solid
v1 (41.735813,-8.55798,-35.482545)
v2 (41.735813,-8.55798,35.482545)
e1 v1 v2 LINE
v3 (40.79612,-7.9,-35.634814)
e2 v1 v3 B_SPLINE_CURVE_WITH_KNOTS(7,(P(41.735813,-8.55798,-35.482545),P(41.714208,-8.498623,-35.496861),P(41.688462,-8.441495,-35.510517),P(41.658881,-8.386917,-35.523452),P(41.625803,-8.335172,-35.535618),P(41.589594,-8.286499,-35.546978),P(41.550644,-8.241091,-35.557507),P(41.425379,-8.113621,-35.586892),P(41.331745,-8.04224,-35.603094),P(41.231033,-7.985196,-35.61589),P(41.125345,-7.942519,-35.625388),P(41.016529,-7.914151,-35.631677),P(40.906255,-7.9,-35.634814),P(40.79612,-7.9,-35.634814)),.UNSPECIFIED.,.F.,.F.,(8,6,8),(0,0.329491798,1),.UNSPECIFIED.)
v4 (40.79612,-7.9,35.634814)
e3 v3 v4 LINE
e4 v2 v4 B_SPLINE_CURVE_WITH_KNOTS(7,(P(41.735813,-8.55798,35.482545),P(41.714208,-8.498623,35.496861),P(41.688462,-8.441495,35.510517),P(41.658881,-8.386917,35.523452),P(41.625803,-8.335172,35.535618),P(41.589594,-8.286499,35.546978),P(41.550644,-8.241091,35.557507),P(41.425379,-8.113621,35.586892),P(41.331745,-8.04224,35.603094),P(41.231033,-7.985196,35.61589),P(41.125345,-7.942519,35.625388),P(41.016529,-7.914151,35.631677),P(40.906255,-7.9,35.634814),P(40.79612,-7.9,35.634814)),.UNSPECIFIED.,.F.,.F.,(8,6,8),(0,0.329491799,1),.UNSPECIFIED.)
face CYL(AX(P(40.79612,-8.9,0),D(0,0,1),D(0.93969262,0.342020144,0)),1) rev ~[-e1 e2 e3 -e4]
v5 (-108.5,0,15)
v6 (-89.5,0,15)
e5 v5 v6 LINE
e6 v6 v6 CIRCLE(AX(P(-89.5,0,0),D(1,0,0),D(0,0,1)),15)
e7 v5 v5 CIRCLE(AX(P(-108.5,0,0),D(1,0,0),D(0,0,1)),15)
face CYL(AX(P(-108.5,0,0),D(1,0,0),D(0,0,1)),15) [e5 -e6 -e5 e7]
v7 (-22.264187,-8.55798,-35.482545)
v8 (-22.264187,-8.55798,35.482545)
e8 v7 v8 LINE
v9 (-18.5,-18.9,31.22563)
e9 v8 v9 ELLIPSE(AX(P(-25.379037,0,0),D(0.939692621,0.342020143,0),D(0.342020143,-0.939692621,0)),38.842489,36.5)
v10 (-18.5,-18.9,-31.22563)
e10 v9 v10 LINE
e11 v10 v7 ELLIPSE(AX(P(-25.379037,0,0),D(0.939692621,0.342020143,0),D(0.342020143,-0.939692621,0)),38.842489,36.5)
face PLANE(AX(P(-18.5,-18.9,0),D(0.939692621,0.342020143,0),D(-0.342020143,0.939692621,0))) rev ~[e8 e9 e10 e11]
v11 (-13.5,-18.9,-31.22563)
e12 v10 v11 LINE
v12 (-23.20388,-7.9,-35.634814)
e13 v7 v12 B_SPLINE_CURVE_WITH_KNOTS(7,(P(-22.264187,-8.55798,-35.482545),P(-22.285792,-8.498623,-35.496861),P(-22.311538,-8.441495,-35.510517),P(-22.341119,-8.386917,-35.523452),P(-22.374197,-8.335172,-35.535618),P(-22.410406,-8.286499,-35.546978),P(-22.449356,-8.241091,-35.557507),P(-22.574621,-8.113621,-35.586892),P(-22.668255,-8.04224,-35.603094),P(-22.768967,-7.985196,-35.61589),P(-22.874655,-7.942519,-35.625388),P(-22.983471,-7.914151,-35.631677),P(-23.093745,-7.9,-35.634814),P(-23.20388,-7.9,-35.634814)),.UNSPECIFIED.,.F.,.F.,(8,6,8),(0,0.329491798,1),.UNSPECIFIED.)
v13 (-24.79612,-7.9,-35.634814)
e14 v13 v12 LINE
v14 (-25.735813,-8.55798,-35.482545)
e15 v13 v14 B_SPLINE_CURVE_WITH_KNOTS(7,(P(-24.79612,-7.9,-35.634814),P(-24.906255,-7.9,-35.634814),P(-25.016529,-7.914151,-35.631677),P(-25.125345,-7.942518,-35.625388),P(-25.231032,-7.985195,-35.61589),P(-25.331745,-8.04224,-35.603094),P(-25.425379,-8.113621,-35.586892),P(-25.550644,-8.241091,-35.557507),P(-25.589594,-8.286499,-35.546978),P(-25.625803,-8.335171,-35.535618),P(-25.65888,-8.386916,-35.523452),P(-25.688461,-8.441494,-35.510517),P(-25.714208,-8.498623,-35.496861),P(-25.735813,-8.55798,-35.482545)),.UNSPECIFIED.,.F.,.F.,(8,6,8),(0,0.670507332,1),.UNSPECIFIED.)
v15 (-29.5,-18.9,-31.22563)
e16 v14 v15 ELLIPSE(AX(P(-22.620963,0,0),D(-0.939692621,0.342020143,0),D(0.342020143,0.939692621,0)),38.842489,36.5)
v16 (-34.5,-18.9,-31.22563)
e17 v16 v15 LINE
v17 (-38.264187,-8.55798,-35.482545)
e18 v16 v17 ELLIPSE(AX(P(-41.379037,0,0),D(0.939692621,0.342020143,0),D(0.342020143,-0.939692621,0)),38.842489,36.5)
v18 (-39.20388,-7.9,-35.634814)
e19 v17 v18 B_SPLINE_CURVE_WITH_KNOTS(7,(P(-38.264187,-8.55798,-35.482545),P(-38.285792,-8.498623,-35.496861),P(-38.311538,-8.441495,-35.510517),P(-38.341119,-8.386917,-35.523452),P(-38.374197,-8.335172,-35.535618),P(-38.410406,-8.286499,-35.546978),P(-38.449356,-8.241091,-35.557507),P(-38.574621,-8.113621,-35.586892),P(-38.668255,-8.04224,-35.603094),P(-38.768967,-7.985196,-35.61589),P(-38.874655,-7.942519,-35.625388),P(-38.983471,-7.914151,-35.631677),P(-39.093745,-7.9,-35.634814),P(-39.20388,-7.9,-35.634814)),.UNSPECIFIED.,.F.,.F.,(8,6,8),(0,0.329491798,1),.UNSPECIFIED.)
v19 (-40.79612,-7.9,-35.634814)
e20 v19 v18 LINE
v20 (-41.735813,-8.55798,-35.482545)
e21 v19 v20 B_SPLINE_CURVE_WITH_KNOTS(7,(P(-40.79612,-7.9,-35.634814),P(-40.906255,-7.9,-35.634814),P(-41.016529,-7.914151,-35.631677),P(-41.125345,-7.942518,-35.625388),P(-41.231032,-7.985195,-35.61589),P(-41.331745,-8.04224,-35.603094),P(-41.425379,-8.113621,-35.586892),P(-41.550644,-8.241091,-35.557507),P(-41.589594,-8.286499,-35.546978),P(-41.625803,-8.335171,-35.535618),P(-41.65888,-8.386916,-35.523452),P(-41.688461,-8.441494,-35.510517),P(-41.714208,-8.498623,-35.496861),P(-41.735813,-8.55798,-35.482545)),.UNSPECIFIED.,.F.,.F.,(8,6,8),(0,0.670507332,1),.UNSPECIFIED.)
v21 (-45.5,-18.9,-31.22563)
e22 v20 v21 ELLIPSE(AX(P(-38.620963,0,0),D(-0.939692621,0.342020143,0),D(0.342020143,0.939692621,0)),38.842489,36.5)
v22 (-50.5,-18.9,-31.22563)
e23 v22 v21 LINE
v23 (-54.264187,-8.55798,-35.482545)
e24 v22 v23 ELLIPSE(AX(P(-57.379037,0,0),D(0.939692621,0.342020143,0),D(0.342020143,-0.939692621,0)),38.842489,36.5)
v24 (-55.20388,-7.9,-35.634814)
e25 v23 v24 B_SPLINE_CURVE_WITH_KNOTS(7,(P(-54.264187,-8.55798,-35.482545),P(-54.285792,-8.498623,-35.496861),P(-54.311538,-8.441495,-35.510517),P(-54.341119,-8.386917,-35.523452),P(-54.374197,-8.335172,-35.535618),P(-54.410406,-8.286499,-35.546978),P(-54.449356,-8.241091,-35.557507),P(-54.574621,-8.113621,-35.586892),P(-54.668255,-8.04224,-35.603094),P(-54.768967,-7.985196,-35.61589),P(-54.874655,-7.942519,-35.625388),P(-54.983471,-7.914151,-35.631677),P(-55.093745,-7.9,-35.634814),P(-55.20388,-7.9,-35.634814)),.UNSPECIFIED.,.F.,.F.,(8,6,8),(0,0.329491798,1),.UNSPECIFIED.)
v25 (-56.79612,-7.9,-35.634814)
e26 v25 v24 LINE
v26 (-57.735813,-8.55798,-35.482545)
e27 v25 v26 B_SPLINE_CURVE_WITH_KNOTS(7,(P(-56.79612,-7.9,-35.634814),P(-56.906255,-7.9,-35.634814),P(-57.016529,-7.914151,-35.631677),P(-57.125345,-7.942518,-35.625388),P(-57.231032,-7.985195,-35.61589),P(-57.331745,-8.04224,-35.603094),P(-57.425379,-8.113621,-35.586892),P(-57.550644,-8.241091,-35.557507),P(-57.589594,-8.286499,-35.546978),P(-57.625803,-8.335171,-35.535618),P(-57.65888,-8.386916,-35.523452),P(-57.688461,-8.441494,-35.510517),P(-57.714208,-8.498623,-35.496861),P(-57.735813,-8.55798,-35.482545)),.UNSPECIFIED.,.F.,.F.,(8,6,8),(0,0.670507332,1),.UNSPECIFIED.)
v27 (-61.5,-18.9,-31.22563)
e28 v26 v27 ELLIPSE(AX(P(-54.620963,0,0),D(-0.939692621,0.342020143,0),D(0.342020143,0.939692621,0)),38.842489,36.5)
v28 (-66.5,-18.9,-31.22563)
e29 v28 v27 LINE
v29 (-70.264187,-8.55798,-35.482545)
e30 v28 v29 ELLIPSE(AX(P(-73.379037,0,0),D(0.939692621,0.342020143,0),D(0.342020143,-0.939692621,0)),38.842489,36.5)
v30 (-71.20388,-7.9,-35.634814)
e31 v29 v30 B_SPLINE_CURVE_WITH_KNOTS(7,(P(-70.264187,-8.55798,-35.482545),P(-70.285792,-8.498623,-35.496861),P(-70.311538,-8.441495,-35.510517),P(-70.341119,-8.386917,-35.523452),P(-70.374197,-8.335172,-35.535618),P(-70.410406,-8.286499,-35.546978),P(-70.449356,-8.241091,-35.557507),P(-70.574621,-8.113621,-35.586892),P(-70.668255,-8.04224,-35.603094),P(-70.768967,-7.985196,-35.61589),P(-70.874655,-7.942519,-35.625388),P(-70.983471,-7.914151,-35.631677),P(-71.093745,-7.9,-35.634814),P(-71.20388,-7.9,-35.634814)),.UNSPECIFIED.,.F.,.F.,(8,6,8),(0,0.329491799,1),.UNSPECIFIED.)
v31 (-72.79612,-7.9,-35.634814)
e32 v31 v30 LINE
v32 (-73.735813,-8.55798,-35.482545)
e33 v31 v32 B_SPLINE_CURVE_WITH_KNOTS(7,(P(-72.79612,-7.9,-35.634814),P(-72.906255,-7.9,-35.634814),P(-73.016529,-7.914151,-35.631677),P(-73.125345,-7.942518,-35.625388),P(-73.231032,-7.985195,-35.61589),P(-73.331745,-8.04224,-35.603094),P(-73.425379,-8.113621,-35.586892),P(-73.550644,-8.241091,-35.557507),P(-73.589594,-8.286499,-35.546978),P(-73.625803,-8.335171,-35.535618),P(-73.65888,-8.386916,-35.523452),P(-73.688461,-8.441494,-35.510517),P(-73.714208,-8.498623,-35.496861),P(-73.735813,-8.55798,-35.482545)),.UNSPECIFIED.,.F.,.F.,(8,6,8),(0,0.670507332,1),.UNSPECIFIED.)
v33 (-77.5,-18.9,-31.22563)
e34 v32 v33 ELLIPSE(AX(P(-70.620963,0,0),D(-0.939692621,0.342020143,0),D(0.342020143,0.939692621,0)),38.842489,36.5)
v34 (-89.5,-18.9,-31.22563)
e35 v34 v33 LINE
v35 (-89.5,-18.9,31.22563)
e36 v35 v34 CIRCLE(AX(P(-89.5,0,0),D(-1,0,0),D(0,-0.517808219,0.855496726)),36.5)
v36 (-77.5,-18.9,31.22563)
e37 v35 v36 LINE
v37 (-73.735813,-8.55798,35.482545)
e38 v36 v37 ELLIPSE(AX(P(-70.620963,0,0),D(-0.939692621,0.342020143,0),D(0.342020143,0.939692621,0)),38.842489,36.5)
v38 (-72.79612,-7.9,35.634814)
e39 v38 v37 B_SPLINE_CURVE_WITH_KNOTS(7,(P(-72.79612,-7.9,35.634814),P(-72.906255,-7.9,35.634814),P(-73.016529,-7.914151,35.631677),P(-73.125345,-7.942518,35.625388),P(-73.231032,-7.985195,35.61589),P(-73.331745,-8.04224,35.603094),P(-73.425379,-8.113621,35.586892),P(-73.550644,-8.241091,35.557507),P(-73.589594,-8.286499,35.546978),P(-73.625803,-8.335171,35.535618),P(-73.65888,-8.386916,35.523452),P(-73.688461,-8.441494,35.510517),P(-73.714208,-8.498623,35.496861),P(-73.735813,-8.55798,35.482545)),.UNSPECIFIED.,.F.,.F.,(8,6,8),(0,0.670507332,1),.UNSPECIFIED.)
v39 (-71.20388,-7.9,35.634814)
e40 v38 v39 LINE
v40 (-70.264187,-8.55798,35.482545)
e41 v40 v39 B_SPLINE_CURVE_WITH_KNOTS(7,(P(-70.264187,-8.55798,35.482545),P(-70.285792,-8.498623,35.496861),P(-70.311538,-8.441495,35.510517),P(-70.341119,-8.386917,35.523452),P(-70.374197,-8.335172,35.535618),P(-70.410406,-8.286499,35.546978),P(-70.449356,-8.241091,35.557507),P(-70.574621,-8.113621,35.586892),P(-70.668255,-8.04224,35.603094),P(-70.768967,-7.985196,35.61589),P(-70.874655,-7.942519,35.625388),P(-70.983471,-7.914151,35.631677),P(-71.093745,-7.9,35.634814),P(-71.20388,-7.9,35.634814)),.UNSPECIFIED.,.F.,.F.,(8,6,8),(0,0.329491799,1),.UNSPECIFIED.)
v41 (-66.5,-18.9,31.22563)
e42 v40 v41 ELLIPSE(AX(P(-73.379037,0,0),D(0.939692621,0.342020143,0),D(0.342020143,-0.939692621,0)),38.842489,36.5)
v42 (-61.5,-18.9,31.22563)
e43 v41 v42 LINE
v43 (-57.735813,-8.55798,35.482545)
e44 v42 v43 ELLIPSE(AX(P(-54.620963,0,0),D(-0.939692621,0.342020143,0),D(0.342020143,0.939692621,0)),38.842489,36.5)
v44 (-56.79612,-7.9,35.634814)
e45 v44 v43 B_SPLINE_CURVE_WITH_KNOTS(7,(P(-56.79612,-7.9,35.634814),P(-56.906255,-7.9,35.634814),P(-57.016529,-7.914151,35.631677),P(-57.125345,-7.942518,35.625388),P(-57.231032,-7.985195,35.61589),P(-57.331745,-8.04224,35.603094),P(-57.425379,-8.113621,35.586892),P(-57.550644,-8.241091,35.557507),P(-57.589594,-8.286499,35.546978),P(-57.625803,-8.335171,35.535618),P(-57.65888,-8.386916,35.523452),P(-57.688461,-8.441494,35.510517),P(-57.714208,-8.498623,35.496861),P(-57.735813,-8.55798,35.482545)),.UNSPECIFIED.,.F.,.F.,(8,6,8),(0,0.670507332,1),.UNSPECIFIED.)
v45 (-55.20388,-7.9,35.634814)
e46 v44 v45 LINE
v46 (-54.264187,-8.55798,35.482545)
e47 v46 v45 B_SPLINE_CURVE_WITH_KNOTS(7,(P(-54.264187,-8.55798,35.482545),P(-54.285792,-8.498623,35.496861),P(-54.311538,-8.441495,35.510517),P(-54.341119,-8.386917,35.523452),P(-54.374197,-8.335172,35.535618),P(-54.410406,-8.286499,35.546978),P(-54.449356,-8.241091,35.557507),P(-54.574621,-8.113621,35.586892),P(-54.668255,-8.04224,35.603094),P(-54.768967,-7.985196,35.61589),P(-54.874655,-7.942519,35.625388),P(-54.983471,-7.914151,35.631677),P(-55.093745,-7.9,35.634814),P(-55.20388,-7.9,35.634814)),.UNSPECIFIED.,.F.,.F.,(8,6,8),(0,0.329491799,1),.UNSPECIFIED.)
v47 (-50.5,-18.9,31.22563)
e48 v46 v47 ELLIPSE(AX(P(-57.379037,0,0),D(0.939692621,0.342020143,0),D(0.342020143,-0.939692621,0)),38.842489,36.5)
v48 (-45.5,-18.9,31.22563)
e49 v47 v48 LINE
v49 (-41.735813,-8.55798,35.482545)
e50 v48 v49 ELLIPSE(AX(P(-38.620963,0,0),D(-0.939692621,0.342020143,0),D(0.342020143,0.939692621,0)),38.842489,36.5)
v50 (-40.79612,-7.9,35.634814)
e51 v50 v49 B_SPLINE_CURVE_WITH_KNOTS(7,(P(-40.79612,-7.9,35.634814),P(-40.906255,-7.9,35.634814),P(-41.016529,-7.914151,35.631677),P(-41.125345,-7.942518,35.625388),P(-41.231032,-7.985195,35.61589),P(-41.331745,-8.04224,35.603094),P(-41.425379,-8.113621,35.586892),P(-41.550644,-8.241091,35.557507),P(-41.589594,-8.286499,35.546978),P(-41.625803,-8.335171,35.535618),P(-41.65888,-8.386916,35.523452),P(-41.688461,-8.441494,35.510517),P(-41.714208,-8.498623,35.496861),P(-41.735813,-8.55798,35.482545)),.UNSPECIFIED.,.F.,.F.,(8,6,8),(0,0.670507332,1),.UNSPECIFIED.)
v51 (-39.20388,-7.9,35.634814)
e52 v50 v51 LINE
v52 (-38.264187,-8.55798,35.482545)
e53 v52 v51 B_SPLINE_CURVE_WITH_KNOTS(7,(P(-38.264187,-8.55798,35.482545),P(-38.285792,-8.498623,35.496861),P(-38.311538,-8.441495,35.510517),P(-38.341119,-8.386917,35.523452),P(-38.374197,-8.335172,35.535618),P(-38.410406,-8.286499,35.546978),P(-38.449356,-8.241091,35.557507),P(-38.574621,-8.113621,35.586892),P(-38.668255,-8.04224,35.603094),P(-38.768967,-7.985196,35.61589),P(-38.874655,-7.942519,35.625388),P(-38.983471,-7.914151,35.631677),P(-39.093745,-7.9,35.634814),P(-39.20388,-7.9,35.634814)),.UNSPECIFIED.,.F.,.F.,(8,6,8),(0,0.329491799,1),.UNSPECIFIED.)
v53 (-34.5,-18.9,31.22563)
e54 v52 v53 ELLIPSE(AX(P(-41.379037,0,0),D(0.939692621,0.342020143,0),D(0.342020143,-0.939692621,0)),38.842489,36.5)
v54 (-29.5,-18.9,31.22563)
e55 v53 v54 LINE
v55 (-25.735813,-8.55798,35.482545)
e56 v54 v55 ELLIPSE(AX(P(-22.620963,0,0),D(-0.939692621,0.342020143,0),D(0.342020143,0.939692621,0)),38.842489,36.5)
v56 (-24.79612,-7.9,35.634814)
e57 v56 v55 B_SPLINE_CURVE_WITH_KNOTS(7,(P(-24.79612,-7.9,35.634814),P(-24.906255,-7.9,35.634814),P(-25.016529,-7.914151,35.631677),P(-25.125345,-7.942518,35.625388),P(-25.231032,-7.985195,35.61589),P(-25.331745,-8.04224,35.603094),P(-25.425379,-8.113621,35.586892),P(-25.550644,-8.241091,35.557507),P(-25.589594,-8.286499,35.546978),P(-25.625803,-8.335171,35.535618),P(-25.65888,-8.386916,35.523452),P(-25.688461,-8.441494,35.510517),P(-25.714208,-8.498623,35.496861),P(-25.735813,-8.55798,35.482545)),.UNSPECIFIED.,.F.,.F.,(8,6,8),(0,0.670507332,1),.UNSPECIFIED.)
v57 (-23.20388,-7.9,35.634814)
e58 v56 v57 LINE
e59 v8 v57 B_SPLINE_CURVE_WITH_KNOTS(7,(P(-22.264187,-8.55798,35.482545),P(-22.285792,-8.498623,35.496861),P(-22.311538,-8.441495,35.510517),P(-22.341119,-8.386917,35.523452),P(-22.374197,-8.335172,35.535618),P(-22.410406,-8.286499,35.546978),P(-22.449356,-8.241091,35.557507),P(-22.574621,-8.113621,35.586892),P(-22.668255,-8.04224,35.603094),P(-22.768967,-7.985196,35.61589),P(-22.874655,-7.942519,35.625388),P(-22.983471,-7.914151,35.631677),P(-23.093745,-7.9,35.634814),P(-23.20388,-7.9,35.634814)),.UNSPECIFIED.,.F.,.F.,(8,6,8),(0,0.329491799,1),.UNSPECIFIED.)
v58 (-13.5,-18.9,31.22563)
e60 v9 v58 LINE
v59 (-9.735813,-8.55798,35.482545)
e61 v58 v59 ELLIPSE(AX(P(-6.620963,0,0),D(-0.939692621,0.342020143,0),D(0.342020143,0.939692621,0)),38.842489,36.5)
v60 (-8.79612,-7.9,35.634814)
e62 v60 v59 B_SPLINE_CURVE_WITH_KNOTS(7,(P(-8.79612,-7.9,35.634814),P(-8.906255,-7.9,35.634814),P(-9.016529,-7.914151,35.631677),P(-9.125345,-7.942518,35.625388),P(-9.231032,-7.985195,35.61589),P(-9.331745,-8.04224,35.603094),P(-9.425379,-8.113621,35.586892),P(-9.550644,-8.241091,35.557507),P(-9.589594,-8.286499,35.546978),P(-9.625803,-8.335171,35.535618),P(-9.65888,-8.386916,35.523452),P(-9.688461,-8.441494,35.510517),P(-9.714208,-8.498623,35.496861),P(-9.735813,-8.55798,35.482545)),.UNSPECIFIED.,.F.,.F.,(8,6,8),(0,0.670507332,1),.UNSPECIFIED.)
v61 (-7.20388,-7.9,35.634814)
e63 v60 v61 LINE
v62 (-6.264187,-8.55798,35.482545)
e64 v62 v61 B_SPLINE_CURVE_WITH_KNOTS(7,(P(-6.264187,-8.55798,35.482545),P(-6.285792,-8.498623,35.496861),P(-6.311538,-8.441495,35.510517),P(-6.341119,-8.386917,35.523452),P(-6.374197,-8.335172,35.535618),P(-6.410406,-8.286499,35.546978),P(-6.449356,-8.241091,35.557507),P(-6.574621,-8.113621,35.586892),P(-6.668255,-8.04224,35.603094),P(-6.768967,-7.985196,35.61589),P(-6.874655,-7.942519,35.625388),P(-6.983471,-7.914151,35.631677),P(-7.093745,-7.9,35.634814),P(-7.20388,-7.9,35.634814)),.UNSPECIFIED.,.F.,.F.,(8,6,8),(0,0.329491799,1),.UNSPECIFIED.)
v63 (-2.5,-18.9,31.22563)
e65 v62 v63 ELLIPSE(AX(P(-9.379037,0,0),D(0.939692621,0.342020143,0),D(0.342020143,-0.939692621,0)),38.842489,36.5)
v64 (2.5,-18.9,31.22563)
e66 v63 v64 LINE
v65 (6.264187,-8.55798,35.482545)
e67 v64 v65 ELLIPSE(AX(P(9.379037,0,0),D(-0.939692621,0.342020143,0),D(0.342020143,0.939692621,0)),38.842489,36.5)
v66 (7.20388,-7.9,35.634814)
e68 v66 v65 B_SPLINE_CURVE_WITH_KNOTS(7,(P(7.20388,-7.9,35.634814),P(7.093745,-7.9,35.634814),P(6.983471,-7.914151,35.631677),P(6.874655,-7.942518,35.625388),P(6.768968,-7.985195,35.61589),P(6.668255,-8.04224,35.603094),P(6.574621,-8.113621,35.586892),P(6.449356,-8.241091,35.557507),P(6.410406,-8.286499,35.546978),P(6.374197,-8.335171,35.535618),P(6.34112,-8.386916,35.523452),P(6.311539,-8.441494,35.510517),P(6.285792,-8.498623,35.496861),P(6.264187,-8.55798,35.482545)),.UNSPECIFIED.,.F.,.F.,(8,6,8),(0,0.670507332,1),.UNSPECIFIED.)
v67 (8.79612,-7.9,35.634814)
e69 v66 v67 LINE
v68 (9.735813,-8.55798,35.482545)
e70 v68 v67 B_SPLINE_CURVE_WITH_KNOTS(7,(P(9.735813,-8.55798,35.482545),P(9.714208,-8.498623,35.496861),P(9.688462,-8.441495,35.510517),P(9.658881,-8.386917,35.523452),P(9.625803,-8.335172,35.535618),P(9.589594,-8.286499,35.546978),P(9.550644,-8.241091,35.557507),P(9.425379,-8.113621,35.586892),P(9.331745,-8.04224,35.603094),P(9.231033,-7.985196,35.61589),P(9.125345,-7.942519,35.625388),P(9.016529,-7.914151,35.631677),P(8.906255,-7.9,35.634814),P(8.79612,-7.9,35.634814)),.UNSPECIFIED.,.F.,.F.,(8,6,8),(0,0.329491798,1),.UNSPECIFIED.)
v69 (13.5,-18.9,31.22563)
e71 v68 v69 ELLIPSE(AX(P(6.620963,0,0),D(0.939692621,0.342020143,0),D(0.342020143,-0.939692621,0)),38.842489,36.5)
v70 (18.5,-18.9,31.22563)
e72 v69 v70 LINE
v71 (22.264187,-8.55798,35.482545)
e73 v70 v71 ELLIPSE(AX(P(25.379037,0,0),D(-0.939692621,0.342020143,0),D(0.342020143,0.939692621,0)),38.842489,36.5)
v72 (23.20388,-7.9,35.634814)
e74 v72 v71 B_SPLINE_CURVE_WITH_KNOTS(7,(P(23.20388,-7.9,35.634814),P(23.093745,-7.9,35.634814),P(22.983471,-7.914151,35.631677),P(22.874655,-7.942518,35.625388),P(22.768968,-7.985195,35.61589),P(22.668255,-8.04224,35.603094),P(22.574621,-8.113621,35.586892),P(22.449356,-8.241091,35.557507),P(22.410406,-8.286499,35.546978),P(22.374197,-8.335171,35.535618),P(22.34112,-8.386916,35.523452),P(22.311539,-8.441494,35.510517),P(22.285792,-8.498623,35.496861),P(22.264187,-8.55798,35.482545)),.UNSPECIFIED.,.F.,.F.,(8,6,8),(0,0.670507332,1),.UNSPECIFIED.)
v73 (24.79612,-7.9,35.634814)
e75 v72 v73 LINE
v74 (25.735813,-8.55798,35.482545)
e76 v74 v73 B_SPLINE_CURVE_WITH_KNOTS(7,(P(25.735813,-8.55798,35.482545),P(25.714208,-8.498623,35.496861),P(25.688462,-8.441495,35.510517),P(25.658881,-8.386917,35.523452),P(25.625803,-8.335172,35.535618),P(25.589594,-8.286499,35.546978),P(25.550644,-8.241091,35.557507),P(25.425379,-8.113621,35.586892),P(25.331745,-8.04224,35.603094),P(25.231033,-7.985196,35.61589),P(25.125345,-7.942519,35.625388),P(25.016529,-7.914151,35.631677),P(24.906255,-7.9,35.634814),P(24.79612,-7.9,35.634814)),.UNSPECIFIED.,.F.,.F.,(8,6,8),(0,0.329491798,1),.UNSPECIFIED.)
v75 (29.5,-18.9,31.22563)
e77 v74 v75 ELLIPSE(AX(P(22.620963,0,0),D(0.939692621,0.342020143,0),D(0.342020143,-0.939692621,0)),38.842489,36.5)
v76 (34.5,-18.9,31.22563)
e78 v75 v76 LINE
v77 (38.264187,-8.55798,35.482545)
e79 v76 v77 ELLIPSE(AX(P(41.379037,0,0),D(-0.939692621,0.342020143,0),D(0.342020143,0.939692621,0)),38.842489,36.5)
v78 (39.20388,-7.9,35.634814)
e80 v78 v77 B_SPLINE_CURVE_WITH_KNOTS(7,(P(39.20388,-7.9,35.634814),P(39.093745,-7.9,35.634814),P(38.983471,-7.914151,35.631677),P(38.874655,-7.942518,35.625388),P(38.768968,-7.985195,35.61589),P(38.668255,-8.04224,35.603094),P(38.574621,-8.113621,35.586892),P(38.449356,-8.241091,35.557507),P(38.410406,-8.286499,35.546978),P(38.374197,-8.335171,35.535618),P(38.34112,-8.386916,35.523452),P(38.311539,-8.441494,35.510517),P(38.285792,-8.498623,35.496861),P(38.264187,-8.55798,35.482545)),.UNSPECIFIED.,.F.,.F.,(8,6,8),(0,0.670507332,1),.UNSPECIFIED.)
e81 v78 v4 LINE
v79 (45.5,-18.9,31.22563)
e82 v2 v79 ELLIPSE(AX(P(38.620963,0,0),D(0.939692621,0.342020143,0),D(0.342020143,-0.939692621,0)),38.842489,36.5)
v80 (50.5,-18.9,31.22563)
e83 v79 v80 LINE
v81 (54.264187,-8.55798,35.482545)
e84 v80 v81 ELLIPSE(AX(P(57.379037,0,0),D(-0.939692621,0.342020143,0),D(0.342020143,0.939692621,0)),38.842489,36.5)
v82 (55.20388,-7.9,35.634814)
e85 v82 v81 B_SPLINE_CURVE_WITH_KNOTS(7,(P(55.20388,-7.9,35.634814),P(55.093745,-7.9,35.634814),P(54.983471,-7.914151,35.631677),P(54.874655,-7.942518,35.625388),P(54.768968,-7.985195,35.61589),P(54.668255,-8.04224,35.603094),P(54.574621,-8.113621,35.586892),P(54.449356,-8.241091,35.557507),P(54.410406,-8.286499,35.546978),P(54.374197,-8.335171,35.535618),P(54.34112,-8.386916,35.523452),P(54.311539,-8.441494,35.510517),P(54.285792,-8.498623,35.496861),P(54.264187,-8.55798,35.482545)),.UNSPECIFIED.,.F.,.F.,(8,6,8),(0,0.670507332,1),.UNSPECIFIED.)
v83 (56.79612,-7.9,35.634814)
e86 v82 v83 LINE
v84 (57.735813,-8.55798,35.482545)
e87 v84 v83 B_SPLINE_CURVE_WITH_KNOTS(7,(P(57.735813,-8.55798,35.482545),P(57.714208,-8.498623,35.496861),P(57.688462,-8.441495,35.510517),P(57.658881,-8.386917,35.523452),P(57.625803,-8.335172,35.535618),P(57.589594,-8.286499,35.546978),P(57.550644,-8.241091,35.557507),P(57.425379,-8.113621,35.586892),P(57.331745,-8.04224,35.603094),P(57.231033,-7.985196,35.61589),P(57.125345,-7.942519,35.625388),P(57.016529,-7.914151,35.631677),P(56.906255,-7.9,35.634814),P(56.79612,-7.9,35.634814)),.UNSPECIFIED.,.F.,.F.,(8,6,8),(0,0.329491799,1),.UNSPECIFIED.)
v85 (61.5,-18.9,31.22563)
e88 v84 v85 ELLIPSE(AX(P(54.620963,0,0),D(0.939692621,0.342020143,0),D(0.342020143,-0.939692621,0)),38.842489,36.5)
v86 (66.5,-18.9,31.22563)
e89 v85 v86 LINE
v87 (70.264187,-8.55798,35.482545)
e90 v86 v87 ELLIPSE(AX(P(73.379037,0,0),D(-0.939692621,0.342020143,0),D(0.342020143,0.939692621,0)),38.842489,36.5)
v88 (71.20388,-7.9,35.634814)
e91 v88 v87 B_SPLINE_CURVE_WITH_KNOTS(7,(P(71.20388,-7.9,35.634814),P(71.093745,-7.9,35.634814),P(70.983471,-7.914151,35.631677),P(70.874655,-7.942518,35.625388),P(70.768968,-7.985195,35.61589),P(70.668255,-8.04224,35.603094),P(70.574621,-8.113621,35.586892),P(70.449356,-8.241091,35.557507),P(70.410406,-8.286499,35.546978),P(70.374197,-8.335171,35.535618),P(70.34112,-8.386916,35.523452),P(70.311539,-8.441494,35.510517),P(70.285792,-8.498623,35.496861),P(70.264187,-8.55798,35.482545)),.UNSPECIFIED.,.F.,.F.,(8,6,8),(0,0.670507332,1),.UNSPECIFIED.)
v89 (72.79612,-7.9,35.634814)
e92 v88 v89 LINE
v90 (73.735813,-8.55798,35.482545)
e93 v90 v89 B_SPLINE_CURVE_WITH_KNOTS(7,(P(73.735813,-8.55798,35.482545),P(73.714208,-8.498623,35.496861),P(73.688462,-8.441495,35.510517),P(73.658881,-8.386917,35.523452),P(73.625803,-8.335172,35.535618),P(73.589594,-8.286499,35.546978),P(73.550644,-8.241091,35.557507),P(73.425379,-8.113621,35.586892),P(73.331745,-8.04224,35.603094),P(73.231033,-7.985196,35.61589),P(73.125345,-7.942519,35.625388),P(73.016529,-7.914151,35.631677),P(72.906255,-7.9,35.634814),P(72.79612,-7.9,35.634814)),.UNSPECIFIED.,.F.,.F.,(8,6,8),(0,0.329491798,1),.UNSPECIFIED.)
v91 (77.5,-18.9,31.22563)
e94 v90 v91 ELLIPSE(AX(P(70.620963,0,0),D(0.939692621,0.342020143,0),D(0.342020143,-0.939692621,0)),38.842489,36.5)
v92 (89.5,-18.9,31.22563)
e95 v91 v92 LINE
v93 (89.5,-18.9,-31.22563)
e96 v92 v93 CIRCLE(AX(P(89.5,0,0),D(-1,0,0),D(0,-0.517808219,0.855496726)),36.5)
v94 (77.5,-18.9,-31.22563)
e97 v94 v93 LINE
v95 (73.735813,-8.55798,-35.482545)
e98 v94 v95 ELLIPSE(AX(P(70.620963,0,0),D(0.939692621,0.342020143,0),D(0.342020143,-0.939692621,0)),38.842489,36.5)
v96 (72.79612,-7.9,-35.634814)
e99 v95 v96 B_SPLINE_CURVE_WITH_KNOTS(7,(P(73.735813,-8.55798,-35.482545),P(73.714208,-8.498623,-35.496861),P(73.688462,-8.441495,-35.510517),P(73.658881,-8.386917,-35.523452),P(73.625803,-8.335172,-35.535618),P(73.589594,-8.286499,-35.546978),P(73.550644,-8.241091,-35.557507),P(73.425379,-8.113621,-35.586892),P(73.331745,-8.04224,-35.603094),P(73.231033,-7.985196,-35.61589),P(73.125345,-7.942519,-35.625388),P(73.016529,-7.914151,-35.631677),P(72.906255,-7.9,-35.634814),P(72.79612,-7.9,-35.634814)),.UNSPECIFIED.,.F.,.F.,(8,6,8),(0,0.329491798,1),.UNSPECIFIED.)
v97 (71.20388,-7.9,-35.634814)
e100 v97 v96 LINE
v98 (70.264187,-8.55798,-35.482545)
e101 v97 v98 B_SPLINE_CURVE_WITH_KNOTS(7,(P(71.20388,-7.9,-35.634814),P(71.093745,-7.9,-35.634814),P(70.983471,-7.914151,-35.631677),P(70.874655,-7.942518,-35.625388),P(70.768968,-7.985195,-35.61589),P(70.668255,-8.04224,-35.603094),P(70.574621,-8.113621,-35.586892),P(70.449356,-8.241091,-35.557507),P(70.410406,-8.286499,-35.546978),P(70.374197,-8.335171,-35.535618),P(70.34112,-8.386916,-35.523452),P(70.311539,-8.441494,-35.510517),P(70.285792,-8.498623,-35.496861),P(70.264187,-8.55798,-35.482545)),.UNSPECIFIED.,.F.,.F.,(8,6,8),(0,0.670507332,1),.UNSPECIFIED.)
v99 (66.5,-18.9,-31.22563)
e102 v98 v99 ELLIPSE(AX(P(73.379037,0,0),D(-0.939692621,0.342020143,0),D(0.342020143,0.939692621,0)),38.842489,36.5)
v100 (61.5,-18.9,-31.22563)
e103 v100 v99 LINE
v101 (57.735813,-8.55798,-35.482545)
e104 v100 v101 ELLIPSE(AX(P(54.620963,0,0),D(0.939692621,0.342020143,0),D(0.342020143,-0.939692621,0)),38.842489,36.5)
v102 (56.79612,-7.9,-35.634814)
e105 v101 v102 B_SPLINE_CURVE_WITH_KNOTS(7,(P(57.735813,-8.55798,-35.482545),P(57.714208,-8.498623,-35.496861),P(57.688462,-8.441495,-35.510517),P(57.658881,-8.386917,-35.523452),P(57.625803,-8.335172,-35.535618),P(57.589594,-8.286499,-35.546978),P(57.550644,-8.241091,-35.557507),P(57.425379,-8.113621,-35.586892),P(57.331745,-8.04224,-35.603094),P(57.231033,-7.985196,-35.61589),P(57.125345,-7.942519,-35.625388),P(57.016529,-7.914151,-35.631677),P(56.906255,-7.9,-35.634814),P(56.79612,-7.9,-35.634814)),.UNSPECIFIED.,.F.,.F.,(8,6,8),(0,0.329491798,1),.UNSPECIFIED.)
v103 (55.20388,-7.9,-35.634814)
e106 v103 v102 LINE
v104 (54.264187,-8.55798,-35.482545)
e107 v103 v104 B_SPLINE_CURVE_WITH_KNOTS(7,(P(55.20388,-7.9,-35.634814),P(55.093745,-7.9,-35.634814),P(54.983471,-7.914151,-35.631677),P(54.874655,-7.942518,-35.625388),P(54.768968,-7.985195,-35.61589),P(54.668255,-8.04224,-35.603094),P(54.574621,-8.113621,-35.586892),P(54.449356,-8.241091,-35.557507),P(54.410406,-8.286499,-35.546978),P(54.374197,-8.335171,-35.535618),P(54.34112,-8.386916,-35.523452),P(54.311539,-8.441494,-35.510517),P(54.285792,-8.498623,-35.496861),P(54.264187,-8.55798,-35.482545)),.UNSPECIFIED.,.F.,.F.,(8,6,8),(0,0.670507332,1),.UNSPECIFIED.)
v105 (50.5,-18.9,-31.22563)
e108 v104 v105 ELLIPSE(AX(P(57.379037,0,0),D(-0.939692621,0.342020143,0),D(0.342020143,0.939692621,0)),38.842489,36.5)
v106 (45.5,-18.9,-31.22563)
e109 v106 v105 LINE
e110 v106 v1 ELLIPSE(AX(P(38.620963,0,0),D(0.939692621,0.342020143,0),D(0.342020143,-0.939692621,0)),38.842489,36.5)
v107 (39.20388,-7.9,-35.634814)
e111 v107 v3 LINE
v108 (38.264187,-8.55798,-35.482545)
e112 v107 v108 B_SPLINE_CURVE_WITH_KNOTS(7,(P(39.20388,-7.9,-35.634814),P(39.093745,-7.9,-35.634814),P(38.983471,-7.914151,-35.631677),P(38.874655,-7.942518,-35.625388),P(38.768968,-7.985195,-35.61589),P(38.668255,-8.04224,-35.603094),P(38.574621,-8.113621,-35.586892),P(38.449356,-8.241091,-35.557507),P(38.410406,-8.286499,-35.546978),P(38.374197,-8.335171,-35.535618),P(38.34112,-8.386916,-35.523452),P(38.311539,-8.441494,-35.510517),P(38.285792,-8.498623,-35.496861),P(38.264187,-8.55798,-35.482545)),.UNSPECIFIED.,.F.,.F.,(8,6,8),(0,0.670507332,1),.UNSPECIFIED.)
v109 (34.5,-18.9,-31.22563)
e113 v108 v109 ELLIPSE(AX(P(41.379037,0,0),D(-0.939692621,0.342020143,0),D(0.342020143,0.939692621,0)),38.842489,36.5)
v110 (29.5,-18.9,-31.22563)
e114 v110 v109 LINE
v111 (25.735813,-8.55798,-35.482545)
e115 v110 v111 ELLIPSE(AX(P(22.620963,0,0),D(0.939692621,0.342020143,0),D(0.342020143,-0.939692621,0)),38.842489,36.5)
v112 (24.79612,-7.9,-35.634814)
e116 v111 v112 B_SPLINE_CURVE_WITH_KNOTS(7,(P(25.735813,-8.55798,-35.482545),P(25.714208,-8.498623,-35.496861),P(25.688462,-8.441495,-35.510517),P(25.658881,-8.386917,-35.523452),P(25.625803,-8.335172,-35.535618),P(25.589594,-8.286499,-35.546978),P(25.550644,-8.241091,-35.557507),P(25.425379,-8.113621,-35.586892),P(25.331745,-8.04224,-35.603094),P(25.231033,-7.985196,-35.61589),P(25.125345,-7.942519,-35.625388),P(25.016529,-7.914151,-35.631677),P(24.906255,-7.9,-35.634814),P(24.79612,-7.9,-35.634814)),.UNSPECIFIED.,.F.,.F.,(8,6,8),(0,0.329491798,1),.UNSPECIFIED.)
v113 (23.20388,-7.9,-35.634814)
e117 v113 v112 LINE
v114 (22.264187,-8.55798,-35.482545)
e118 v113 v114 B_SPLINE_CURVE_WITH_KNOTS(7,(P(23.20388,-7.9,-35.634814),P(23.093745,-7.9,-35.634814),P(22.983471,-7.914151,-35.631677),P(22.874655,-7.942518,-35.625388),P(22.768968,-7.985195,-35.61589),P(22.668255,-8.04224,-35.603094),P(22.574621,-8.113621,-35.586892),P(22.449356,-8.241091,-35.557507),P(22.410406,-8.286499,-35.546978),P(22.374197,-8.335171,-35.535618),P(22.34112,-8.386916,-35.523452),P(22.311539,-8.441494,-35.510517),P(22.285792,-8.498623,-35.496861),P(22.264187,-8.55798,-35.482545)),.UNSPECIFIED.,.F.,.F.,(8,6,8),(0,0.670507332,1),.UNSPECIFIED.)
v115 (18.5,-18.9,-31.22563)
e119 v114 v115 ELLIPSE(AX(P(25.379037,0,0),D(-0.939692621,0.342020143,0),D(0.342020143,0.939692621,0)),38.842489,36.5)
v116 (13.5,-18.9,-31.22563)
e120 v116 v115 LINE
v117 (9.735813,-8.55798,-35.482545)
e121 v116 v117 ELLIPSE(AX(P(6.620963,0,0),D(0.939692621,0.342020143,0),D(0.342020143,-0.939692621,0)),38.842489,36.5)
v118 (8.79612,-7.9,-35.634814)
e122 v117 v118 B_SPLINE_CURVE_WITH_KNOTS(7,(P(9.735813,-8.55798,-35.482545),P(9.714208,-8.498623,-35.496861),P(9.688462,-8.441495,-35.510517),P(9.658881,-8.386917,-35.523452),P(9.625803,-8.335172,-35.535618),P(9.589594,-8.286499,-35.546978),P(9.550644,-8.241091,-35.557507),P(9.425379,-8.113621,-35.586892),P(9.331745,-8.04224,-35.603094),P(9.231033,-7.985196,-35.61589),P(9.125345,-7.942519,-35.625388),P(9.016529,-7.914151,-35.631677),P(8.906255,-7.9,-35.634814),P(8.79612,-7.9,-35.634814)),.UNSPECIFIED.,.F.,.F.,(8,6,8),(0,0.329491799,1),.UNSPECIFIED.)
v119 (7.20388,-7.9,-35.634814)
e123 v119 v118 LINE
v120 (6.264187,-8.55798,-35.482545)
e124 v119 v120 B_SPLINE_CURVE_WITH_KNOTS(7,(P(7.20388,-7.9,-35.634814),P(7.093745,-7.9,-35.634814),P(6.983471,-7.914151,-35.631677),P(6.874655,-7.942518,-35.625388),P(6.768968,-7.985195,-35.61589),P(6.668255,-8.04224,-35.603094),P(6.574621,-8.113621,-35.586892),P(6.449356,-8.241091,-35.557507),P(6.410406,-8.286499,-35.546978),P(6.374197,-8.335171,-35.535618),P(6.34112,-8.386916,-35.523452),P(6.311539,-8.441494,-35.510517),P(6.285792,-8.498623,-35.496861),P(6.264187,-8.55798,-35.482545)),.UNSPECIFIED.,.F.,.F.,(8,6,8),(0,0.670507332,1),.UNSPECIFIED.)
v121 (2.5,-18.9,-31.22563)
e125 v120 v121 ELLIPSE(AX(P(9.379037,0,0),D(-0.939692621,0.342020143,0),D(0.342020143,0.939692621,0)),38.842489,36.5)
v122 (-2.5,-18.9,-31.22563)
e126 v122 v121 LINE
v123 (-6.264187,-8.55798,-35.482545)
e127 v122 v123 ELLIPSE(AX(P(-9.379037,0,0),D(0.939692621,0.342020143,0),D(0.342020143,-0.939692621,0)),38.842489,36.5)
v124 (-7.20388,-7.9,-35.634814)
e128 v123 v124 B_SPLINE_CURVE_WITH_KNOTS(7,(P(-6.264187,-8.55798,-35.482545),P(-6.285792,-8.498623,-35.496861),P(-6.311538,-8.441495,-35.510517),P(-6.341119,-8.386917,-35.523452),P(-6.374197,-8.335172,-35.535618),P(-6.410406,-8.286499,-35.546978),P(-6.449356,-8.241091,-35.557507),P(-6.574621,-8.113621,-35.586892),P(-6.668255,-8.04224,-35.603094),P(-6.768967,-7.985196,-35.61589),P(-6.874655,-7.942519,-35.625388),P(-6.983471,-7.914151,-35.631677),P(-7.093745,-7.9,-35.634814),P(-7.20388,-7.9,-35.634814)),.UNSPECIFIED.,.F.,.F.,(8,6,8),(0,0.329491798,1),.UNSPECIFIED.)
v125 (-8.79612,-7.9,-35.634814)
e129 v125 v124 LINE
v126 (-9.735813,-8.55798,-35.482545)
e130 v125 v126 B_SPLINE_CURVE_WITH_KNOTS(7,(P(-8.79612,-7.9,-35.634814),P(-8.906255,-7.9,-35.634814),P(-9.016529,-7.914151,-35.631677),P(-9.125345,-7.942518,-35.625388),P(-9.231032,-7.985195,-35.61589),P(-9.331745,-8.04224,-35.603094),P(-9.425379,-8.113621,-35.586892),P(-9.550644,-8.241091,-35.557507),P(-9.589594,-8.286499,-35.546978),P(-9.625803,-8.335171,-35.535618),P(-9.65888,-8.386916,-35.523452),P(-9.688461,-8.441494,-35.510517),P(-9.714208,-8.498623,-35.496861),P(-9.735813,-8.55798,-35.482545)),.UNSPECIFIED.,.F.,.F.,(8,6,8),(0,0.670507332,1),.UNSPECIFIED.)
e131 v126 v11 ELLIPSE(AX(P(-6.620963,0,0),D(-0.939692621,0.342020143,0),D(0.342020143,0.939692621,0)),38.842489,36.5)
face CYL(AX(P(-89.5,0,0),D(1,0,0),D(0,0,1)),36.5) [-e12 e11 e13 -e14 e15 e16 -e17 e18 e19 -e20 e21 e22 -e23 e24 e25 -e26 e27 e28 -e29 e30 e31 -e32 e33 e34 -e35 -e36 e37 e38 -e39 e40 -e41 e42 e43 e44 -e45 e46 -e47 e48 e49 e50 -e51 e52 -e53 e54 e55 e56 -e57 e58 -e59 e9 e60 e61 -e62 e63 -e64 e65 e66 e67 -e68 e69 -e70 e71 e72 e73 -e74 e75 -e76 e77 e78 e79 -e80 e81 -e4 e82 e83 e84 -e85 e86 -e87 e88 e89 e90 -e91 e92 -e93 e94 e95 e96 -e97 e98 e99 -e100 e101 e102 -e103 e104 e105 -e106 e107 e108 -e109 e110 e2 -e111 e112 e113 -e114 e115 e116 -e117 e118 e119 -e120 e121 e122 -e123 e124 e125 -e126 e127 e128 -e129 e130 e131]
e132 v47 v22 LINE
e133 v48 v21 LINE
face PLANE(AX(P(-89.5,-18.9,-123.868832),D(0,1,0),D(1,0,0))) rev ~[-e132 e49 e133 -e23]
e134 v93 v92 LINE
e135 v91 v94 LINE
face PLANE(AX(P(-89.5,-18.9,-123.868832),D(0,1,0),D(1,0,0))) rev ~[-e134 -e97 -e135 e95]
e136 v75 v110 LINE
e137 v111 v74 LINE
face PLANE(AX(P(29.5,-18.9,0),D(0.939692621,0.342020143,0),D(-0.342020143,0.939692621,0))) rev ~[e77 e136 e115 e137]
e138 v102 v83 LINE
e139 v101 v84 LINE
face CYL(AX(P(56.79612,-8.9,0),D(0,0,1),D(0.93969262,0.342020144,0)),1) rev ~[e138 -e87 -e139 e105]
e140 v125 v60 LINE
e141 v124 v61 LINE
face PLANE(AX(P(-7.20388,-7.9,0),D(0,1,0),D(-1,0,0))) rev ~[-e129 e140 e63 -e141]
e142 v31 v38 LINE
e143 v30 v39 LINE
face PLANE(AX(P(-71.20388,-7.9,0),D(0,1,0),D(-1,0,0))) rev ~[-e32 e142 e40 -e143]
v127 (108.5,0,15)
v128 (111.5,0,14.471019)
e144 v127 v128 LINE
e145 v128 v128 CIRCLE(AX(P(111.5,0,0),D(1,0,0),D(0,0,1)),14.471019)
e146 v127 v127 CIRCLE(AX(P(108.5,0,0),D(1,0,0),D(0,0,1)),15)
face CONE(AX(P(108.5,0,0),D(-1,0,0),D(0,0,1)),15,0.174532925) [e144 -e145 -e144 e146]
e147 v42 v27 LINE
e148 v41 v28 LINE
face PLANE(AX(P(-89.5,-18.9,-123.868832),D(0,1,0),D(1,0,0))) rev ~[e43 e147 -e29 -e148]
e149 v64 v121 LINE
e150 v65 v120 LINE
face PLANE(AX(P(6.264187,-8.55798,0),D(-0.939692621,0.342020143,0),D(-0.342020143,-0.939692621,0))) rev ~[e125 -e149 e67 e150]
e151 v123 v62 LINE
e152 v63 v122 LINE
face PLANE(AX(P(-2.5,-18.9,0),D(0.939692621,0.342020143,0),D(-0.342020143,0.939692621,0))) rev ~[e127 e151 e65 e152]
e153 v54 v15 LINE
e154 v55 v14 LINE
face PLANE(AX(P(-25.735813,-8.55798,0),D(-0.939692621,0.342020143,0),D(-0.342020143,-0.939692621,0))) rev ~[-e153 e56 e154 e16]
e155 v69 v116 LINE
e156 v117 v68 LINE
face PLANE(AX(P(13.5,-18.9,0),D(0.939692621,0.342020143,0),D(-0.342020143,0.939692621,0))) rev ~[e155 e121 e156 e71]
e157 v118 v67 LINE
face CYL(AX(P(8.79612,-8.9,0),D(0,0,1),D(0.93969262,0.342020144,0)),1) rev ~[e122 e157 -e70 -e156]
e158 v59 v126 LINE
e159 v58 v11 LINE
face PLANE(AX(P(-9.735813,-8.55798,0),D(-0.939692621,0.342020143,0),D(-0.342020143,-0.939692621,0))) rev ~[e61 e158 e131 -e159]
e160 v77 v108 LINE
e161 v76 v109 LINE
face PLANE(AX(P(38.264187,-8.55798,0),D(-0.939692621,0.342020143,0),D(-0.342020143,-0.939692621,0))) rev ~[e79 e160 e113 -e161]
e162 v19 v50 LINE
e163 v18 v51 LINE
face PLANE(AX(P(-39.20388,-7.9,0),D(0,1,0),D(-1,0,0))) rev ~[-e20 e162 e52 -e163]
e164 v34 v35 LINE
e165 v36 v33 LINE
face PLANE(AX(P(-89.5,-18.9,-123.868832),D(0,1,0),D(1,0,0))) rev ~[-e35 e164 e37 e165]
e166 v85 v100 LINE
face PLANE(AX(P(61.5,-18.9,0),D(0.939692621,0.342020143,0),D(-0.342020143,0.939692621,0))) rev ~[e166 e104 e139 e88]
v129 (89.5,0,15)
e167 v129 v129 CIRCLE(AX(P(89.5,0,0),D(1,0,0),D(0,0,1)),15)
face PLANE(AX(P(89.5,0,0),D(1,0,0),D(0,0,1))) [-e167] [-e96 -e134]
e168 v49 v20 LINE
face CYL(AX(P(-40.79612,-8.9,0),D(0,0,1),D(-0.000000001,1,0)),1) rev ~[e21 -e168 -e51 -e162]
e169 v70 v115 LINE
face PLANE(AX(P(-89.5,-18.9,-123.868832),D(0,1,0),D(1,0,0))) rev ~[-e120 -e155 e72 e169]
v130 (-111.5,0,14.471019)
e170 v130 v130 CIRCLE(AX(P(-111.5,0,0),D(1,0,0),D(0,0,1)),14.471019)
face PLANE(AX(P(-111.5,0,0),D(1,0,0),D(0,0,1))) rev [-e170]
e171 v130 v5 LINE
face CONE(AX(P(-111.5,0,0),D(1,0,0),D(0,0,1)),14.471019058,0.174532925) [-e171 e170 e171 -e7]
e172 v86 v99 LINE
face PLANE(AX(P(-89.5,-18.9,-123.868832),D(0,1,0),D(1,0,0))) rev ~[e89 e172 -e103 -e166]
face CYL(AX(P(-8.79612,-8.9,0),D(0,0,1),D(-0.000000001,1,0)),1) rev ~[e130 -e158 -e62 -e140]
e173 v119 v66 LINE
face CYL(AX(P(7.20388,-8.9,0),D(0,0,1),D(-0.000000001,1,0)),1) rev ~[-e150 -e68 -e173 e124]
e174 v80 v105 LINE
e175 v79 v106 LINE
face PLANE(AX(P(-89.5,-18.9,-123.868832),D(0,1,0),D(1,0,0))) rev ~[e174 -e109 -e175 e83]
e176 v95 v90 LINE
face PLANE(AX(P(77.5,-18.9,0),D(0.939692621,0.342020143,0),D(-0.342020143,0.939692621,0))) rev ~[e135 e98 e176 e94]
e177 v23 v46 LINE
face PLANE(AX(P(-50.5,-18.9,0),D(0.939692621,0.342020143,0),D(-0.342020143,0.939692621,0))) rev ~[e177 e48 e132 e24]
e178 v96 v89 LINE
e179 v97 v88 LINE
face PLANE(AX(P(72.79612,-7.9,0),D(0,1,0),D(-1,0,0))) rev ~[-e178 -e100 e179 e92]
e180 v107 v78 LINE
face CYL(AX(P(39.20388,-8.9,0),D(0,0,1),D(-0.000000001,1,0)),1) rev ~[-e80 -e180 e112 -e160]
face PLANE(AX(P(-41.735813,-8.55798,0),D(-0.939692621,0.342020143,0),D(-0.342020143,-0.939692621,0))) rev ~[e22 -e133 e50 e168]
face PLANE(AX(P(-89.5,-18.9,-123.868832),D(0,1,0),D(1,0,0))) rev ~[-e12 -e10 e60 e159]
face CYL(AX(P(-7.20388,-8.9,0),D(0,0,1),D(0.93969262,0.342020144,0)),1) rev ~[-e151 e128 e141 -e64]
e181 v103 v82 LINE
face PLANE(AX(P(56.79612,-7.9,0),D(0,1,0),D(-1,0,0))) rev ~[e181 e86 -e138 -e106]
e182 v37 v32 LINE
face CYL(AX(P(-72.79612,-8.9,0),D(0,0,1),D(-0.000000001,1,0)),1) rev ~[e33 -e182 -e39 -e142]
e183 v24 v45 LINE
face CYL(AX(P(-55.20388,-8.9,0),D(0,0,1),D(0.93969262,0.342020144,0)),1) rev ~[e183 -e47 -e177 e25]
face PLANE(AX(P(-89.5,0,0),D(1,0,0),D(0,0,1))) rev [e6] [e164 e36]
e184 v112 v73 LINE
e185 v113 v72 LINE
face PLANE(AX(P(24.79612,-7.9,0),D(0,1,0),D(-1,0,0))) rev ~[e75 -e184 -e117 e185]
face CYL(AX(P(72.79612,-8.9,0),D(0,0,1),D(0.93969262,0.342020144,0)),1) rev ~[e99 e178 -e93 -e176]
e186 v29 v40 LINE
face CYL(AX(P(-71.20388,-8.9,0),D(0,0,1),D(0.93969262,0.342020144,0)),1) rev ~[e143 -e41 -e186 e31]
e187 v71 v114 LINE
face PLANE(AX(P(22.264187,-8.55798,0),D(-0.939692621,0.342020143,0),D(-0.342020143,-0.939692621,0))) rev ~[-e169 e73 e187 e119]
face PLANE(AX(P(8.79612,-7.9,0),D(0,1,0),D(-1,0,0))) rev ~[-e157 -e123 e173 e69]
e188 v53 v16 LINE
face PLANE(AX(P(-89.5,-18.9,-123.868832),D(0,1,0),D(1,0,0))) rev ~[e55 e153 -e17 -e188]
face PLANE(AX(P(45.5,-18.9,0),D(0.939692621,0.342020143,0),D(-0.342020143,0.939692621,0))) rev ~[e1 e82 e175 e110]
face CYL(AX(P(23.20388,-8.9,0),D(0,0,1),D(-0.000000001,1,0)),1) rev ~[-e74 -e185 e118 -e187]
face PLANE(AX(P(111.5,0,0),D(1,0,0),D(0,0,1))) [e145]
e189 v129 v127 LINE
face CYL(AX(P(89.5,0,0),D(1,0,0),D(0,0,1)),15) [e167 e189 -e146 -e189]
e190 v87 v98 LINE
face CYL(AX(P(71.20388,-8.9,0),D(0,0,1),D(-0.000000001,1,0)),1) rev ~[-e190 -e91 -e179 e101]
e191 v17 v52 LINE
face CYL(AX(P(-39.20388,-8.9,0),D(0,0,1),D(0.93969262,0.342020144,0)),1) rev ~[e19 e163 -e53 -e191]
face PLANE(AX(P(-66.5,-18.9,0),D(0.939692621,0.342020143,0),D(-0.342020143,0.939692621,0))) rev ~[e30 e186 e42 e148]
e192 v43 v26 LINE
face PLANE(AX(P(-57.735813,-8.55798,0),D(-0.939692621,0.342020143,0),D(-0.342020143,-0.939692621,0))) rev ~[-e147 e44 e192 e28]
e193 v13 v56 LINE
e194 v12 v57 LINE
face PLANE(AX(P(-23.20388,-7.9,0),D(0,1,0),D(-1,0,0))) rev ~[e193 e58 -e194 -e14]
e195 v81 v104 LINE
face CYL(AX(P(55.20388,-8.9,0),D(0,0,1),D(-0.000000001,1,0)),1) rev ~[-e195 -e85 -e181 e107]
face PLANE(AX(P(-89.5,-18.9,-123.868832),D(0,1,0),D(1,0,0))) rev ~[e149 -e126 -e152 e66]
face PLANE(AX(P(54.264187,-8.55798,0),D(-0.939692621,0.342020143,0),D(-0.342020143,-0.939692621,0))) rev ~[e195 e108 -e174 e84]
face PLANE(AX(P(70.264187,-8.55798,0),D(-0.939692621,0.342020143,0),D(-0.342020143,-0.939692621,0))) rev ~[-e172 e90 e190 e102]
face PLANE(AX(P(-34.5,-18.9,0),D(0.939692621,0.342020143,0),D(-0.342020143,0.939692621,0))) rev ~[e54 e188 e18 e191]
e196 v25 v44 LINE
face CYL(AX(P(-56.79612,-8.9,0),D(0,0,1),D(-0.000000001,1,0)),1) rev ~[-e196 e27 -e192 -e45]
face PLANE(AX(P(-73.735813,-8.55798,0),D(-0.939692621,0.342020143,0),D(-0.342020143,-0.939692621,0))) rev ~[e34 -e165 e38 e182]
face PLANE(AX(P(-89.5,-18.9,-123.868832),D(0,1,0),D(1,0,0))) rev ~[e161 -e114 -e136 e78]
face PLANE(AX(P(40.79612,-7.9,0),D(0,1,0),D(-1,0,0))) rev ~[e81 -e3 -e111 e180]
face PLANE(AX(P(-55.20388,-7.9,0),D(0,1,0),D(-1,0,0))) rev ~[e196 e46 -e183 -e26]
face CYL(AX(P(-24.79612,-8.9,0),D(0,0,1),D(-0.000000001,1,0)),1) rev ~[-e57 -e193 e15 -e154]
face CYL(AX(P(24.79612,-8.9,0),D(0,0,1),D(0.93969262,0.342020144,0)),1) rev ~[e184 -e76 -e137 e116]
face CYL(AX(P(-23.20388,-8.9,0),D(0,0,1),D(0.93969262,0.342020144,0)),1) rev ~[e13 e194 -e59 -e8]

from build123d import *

# Parameters (mm, degrees)
CUT_EXTRUDE_1_DEPTH      = 123.8688325
CUT_EXTRUDE_1_DEPTH_BACK = 123.8688325
SKETCH_2_W               = 179
SKETCH_2_H               = 17.6
CUT_EXTRUDE_2_DEPTH      = 123.8688325
PATTERN_LINEAR_1_COUNT   = 10
PATTERN_LINEAR_1_PITCH   = 16


with BuildPart() as part:
    # Эскиз1 → Повернуть1 (revolve)
    with BuildSketch(Plane.XY, mode=Mode.PRIVATE) as revolve_1_sk:
        Polygon((-111.5, 0), (-111.5, 14.471019058), (-108.5, 15), (-89.5, 15), (-89.5, 36.5), (89.5, 36.5), (89.5, 15), (108.5, 15), (111.5, 14.471019058), (111.5, 0), align=None)
    revolve(revolve_1_sk.sketch.rotate(Axis((-162.765436154, 0, 0), (1, 0, 0)), 90), axis=Axis((-162.765436154, 0, 0), (1, 0, 0)))

    # Эскиз2 → Вырез-Вытянуть1 (cut, two sides: drawn at the far end of the back side and taken through both)
    with BuildSketch(Plane.XY.offset(-CUT_EXTRUDE_1_DEPTH_BACK)):
        with Locations((0, -27.7)):
            Rectangle(SKETCH_2_W, SKETCH_2_H)
    extrude(amount=CUT_EXTRUDE_1_DEPTH + CUT_EXTRUDE_1_DEPTH_BACK, mode=Mode.SUBTRACT)

    # Эскиз3 → Вырез-Вытянуть2 (cut, symmetric)
    with BuildSketch(Plane.XY):
        with BuildLine():
            Line((77.5, -18.9), (73.735812506, -8.557979857))
            ThreePointArc((73.735812506, -8.557979857), (73.369696321, -8.080847956), (72.796119885, -7.9))
            Line((72.796119885, -7.9), (71.203880115, -7.9))
            ThreePointArc((71.203880115, -7.9), (70.630303679, -8.080847956), (70.264187494, -8.557979857))
            Line((70.264187494, -8.557979857), (66.5, -18.9))
            Line((66.5, -18.9), (77.5, -18.9))
        make_face()
    cut_extrude_2 = extrude(amount=CUT_EXTRUDE_2_DEPTH, both=True, mode=Mode.SUBTRACT)

    # Линейный массив1: Вырез-Вытянуть2 ×10
    with Locations(*[(-i * PATTERN_LINEAR_1_PITCH, 0, 0) for i in range(1, PATTERN_LINEAR_1_COUNT)]):
        add(cut_extrude_2, mode=Mode.SUBTRACT)


solid = part.part
